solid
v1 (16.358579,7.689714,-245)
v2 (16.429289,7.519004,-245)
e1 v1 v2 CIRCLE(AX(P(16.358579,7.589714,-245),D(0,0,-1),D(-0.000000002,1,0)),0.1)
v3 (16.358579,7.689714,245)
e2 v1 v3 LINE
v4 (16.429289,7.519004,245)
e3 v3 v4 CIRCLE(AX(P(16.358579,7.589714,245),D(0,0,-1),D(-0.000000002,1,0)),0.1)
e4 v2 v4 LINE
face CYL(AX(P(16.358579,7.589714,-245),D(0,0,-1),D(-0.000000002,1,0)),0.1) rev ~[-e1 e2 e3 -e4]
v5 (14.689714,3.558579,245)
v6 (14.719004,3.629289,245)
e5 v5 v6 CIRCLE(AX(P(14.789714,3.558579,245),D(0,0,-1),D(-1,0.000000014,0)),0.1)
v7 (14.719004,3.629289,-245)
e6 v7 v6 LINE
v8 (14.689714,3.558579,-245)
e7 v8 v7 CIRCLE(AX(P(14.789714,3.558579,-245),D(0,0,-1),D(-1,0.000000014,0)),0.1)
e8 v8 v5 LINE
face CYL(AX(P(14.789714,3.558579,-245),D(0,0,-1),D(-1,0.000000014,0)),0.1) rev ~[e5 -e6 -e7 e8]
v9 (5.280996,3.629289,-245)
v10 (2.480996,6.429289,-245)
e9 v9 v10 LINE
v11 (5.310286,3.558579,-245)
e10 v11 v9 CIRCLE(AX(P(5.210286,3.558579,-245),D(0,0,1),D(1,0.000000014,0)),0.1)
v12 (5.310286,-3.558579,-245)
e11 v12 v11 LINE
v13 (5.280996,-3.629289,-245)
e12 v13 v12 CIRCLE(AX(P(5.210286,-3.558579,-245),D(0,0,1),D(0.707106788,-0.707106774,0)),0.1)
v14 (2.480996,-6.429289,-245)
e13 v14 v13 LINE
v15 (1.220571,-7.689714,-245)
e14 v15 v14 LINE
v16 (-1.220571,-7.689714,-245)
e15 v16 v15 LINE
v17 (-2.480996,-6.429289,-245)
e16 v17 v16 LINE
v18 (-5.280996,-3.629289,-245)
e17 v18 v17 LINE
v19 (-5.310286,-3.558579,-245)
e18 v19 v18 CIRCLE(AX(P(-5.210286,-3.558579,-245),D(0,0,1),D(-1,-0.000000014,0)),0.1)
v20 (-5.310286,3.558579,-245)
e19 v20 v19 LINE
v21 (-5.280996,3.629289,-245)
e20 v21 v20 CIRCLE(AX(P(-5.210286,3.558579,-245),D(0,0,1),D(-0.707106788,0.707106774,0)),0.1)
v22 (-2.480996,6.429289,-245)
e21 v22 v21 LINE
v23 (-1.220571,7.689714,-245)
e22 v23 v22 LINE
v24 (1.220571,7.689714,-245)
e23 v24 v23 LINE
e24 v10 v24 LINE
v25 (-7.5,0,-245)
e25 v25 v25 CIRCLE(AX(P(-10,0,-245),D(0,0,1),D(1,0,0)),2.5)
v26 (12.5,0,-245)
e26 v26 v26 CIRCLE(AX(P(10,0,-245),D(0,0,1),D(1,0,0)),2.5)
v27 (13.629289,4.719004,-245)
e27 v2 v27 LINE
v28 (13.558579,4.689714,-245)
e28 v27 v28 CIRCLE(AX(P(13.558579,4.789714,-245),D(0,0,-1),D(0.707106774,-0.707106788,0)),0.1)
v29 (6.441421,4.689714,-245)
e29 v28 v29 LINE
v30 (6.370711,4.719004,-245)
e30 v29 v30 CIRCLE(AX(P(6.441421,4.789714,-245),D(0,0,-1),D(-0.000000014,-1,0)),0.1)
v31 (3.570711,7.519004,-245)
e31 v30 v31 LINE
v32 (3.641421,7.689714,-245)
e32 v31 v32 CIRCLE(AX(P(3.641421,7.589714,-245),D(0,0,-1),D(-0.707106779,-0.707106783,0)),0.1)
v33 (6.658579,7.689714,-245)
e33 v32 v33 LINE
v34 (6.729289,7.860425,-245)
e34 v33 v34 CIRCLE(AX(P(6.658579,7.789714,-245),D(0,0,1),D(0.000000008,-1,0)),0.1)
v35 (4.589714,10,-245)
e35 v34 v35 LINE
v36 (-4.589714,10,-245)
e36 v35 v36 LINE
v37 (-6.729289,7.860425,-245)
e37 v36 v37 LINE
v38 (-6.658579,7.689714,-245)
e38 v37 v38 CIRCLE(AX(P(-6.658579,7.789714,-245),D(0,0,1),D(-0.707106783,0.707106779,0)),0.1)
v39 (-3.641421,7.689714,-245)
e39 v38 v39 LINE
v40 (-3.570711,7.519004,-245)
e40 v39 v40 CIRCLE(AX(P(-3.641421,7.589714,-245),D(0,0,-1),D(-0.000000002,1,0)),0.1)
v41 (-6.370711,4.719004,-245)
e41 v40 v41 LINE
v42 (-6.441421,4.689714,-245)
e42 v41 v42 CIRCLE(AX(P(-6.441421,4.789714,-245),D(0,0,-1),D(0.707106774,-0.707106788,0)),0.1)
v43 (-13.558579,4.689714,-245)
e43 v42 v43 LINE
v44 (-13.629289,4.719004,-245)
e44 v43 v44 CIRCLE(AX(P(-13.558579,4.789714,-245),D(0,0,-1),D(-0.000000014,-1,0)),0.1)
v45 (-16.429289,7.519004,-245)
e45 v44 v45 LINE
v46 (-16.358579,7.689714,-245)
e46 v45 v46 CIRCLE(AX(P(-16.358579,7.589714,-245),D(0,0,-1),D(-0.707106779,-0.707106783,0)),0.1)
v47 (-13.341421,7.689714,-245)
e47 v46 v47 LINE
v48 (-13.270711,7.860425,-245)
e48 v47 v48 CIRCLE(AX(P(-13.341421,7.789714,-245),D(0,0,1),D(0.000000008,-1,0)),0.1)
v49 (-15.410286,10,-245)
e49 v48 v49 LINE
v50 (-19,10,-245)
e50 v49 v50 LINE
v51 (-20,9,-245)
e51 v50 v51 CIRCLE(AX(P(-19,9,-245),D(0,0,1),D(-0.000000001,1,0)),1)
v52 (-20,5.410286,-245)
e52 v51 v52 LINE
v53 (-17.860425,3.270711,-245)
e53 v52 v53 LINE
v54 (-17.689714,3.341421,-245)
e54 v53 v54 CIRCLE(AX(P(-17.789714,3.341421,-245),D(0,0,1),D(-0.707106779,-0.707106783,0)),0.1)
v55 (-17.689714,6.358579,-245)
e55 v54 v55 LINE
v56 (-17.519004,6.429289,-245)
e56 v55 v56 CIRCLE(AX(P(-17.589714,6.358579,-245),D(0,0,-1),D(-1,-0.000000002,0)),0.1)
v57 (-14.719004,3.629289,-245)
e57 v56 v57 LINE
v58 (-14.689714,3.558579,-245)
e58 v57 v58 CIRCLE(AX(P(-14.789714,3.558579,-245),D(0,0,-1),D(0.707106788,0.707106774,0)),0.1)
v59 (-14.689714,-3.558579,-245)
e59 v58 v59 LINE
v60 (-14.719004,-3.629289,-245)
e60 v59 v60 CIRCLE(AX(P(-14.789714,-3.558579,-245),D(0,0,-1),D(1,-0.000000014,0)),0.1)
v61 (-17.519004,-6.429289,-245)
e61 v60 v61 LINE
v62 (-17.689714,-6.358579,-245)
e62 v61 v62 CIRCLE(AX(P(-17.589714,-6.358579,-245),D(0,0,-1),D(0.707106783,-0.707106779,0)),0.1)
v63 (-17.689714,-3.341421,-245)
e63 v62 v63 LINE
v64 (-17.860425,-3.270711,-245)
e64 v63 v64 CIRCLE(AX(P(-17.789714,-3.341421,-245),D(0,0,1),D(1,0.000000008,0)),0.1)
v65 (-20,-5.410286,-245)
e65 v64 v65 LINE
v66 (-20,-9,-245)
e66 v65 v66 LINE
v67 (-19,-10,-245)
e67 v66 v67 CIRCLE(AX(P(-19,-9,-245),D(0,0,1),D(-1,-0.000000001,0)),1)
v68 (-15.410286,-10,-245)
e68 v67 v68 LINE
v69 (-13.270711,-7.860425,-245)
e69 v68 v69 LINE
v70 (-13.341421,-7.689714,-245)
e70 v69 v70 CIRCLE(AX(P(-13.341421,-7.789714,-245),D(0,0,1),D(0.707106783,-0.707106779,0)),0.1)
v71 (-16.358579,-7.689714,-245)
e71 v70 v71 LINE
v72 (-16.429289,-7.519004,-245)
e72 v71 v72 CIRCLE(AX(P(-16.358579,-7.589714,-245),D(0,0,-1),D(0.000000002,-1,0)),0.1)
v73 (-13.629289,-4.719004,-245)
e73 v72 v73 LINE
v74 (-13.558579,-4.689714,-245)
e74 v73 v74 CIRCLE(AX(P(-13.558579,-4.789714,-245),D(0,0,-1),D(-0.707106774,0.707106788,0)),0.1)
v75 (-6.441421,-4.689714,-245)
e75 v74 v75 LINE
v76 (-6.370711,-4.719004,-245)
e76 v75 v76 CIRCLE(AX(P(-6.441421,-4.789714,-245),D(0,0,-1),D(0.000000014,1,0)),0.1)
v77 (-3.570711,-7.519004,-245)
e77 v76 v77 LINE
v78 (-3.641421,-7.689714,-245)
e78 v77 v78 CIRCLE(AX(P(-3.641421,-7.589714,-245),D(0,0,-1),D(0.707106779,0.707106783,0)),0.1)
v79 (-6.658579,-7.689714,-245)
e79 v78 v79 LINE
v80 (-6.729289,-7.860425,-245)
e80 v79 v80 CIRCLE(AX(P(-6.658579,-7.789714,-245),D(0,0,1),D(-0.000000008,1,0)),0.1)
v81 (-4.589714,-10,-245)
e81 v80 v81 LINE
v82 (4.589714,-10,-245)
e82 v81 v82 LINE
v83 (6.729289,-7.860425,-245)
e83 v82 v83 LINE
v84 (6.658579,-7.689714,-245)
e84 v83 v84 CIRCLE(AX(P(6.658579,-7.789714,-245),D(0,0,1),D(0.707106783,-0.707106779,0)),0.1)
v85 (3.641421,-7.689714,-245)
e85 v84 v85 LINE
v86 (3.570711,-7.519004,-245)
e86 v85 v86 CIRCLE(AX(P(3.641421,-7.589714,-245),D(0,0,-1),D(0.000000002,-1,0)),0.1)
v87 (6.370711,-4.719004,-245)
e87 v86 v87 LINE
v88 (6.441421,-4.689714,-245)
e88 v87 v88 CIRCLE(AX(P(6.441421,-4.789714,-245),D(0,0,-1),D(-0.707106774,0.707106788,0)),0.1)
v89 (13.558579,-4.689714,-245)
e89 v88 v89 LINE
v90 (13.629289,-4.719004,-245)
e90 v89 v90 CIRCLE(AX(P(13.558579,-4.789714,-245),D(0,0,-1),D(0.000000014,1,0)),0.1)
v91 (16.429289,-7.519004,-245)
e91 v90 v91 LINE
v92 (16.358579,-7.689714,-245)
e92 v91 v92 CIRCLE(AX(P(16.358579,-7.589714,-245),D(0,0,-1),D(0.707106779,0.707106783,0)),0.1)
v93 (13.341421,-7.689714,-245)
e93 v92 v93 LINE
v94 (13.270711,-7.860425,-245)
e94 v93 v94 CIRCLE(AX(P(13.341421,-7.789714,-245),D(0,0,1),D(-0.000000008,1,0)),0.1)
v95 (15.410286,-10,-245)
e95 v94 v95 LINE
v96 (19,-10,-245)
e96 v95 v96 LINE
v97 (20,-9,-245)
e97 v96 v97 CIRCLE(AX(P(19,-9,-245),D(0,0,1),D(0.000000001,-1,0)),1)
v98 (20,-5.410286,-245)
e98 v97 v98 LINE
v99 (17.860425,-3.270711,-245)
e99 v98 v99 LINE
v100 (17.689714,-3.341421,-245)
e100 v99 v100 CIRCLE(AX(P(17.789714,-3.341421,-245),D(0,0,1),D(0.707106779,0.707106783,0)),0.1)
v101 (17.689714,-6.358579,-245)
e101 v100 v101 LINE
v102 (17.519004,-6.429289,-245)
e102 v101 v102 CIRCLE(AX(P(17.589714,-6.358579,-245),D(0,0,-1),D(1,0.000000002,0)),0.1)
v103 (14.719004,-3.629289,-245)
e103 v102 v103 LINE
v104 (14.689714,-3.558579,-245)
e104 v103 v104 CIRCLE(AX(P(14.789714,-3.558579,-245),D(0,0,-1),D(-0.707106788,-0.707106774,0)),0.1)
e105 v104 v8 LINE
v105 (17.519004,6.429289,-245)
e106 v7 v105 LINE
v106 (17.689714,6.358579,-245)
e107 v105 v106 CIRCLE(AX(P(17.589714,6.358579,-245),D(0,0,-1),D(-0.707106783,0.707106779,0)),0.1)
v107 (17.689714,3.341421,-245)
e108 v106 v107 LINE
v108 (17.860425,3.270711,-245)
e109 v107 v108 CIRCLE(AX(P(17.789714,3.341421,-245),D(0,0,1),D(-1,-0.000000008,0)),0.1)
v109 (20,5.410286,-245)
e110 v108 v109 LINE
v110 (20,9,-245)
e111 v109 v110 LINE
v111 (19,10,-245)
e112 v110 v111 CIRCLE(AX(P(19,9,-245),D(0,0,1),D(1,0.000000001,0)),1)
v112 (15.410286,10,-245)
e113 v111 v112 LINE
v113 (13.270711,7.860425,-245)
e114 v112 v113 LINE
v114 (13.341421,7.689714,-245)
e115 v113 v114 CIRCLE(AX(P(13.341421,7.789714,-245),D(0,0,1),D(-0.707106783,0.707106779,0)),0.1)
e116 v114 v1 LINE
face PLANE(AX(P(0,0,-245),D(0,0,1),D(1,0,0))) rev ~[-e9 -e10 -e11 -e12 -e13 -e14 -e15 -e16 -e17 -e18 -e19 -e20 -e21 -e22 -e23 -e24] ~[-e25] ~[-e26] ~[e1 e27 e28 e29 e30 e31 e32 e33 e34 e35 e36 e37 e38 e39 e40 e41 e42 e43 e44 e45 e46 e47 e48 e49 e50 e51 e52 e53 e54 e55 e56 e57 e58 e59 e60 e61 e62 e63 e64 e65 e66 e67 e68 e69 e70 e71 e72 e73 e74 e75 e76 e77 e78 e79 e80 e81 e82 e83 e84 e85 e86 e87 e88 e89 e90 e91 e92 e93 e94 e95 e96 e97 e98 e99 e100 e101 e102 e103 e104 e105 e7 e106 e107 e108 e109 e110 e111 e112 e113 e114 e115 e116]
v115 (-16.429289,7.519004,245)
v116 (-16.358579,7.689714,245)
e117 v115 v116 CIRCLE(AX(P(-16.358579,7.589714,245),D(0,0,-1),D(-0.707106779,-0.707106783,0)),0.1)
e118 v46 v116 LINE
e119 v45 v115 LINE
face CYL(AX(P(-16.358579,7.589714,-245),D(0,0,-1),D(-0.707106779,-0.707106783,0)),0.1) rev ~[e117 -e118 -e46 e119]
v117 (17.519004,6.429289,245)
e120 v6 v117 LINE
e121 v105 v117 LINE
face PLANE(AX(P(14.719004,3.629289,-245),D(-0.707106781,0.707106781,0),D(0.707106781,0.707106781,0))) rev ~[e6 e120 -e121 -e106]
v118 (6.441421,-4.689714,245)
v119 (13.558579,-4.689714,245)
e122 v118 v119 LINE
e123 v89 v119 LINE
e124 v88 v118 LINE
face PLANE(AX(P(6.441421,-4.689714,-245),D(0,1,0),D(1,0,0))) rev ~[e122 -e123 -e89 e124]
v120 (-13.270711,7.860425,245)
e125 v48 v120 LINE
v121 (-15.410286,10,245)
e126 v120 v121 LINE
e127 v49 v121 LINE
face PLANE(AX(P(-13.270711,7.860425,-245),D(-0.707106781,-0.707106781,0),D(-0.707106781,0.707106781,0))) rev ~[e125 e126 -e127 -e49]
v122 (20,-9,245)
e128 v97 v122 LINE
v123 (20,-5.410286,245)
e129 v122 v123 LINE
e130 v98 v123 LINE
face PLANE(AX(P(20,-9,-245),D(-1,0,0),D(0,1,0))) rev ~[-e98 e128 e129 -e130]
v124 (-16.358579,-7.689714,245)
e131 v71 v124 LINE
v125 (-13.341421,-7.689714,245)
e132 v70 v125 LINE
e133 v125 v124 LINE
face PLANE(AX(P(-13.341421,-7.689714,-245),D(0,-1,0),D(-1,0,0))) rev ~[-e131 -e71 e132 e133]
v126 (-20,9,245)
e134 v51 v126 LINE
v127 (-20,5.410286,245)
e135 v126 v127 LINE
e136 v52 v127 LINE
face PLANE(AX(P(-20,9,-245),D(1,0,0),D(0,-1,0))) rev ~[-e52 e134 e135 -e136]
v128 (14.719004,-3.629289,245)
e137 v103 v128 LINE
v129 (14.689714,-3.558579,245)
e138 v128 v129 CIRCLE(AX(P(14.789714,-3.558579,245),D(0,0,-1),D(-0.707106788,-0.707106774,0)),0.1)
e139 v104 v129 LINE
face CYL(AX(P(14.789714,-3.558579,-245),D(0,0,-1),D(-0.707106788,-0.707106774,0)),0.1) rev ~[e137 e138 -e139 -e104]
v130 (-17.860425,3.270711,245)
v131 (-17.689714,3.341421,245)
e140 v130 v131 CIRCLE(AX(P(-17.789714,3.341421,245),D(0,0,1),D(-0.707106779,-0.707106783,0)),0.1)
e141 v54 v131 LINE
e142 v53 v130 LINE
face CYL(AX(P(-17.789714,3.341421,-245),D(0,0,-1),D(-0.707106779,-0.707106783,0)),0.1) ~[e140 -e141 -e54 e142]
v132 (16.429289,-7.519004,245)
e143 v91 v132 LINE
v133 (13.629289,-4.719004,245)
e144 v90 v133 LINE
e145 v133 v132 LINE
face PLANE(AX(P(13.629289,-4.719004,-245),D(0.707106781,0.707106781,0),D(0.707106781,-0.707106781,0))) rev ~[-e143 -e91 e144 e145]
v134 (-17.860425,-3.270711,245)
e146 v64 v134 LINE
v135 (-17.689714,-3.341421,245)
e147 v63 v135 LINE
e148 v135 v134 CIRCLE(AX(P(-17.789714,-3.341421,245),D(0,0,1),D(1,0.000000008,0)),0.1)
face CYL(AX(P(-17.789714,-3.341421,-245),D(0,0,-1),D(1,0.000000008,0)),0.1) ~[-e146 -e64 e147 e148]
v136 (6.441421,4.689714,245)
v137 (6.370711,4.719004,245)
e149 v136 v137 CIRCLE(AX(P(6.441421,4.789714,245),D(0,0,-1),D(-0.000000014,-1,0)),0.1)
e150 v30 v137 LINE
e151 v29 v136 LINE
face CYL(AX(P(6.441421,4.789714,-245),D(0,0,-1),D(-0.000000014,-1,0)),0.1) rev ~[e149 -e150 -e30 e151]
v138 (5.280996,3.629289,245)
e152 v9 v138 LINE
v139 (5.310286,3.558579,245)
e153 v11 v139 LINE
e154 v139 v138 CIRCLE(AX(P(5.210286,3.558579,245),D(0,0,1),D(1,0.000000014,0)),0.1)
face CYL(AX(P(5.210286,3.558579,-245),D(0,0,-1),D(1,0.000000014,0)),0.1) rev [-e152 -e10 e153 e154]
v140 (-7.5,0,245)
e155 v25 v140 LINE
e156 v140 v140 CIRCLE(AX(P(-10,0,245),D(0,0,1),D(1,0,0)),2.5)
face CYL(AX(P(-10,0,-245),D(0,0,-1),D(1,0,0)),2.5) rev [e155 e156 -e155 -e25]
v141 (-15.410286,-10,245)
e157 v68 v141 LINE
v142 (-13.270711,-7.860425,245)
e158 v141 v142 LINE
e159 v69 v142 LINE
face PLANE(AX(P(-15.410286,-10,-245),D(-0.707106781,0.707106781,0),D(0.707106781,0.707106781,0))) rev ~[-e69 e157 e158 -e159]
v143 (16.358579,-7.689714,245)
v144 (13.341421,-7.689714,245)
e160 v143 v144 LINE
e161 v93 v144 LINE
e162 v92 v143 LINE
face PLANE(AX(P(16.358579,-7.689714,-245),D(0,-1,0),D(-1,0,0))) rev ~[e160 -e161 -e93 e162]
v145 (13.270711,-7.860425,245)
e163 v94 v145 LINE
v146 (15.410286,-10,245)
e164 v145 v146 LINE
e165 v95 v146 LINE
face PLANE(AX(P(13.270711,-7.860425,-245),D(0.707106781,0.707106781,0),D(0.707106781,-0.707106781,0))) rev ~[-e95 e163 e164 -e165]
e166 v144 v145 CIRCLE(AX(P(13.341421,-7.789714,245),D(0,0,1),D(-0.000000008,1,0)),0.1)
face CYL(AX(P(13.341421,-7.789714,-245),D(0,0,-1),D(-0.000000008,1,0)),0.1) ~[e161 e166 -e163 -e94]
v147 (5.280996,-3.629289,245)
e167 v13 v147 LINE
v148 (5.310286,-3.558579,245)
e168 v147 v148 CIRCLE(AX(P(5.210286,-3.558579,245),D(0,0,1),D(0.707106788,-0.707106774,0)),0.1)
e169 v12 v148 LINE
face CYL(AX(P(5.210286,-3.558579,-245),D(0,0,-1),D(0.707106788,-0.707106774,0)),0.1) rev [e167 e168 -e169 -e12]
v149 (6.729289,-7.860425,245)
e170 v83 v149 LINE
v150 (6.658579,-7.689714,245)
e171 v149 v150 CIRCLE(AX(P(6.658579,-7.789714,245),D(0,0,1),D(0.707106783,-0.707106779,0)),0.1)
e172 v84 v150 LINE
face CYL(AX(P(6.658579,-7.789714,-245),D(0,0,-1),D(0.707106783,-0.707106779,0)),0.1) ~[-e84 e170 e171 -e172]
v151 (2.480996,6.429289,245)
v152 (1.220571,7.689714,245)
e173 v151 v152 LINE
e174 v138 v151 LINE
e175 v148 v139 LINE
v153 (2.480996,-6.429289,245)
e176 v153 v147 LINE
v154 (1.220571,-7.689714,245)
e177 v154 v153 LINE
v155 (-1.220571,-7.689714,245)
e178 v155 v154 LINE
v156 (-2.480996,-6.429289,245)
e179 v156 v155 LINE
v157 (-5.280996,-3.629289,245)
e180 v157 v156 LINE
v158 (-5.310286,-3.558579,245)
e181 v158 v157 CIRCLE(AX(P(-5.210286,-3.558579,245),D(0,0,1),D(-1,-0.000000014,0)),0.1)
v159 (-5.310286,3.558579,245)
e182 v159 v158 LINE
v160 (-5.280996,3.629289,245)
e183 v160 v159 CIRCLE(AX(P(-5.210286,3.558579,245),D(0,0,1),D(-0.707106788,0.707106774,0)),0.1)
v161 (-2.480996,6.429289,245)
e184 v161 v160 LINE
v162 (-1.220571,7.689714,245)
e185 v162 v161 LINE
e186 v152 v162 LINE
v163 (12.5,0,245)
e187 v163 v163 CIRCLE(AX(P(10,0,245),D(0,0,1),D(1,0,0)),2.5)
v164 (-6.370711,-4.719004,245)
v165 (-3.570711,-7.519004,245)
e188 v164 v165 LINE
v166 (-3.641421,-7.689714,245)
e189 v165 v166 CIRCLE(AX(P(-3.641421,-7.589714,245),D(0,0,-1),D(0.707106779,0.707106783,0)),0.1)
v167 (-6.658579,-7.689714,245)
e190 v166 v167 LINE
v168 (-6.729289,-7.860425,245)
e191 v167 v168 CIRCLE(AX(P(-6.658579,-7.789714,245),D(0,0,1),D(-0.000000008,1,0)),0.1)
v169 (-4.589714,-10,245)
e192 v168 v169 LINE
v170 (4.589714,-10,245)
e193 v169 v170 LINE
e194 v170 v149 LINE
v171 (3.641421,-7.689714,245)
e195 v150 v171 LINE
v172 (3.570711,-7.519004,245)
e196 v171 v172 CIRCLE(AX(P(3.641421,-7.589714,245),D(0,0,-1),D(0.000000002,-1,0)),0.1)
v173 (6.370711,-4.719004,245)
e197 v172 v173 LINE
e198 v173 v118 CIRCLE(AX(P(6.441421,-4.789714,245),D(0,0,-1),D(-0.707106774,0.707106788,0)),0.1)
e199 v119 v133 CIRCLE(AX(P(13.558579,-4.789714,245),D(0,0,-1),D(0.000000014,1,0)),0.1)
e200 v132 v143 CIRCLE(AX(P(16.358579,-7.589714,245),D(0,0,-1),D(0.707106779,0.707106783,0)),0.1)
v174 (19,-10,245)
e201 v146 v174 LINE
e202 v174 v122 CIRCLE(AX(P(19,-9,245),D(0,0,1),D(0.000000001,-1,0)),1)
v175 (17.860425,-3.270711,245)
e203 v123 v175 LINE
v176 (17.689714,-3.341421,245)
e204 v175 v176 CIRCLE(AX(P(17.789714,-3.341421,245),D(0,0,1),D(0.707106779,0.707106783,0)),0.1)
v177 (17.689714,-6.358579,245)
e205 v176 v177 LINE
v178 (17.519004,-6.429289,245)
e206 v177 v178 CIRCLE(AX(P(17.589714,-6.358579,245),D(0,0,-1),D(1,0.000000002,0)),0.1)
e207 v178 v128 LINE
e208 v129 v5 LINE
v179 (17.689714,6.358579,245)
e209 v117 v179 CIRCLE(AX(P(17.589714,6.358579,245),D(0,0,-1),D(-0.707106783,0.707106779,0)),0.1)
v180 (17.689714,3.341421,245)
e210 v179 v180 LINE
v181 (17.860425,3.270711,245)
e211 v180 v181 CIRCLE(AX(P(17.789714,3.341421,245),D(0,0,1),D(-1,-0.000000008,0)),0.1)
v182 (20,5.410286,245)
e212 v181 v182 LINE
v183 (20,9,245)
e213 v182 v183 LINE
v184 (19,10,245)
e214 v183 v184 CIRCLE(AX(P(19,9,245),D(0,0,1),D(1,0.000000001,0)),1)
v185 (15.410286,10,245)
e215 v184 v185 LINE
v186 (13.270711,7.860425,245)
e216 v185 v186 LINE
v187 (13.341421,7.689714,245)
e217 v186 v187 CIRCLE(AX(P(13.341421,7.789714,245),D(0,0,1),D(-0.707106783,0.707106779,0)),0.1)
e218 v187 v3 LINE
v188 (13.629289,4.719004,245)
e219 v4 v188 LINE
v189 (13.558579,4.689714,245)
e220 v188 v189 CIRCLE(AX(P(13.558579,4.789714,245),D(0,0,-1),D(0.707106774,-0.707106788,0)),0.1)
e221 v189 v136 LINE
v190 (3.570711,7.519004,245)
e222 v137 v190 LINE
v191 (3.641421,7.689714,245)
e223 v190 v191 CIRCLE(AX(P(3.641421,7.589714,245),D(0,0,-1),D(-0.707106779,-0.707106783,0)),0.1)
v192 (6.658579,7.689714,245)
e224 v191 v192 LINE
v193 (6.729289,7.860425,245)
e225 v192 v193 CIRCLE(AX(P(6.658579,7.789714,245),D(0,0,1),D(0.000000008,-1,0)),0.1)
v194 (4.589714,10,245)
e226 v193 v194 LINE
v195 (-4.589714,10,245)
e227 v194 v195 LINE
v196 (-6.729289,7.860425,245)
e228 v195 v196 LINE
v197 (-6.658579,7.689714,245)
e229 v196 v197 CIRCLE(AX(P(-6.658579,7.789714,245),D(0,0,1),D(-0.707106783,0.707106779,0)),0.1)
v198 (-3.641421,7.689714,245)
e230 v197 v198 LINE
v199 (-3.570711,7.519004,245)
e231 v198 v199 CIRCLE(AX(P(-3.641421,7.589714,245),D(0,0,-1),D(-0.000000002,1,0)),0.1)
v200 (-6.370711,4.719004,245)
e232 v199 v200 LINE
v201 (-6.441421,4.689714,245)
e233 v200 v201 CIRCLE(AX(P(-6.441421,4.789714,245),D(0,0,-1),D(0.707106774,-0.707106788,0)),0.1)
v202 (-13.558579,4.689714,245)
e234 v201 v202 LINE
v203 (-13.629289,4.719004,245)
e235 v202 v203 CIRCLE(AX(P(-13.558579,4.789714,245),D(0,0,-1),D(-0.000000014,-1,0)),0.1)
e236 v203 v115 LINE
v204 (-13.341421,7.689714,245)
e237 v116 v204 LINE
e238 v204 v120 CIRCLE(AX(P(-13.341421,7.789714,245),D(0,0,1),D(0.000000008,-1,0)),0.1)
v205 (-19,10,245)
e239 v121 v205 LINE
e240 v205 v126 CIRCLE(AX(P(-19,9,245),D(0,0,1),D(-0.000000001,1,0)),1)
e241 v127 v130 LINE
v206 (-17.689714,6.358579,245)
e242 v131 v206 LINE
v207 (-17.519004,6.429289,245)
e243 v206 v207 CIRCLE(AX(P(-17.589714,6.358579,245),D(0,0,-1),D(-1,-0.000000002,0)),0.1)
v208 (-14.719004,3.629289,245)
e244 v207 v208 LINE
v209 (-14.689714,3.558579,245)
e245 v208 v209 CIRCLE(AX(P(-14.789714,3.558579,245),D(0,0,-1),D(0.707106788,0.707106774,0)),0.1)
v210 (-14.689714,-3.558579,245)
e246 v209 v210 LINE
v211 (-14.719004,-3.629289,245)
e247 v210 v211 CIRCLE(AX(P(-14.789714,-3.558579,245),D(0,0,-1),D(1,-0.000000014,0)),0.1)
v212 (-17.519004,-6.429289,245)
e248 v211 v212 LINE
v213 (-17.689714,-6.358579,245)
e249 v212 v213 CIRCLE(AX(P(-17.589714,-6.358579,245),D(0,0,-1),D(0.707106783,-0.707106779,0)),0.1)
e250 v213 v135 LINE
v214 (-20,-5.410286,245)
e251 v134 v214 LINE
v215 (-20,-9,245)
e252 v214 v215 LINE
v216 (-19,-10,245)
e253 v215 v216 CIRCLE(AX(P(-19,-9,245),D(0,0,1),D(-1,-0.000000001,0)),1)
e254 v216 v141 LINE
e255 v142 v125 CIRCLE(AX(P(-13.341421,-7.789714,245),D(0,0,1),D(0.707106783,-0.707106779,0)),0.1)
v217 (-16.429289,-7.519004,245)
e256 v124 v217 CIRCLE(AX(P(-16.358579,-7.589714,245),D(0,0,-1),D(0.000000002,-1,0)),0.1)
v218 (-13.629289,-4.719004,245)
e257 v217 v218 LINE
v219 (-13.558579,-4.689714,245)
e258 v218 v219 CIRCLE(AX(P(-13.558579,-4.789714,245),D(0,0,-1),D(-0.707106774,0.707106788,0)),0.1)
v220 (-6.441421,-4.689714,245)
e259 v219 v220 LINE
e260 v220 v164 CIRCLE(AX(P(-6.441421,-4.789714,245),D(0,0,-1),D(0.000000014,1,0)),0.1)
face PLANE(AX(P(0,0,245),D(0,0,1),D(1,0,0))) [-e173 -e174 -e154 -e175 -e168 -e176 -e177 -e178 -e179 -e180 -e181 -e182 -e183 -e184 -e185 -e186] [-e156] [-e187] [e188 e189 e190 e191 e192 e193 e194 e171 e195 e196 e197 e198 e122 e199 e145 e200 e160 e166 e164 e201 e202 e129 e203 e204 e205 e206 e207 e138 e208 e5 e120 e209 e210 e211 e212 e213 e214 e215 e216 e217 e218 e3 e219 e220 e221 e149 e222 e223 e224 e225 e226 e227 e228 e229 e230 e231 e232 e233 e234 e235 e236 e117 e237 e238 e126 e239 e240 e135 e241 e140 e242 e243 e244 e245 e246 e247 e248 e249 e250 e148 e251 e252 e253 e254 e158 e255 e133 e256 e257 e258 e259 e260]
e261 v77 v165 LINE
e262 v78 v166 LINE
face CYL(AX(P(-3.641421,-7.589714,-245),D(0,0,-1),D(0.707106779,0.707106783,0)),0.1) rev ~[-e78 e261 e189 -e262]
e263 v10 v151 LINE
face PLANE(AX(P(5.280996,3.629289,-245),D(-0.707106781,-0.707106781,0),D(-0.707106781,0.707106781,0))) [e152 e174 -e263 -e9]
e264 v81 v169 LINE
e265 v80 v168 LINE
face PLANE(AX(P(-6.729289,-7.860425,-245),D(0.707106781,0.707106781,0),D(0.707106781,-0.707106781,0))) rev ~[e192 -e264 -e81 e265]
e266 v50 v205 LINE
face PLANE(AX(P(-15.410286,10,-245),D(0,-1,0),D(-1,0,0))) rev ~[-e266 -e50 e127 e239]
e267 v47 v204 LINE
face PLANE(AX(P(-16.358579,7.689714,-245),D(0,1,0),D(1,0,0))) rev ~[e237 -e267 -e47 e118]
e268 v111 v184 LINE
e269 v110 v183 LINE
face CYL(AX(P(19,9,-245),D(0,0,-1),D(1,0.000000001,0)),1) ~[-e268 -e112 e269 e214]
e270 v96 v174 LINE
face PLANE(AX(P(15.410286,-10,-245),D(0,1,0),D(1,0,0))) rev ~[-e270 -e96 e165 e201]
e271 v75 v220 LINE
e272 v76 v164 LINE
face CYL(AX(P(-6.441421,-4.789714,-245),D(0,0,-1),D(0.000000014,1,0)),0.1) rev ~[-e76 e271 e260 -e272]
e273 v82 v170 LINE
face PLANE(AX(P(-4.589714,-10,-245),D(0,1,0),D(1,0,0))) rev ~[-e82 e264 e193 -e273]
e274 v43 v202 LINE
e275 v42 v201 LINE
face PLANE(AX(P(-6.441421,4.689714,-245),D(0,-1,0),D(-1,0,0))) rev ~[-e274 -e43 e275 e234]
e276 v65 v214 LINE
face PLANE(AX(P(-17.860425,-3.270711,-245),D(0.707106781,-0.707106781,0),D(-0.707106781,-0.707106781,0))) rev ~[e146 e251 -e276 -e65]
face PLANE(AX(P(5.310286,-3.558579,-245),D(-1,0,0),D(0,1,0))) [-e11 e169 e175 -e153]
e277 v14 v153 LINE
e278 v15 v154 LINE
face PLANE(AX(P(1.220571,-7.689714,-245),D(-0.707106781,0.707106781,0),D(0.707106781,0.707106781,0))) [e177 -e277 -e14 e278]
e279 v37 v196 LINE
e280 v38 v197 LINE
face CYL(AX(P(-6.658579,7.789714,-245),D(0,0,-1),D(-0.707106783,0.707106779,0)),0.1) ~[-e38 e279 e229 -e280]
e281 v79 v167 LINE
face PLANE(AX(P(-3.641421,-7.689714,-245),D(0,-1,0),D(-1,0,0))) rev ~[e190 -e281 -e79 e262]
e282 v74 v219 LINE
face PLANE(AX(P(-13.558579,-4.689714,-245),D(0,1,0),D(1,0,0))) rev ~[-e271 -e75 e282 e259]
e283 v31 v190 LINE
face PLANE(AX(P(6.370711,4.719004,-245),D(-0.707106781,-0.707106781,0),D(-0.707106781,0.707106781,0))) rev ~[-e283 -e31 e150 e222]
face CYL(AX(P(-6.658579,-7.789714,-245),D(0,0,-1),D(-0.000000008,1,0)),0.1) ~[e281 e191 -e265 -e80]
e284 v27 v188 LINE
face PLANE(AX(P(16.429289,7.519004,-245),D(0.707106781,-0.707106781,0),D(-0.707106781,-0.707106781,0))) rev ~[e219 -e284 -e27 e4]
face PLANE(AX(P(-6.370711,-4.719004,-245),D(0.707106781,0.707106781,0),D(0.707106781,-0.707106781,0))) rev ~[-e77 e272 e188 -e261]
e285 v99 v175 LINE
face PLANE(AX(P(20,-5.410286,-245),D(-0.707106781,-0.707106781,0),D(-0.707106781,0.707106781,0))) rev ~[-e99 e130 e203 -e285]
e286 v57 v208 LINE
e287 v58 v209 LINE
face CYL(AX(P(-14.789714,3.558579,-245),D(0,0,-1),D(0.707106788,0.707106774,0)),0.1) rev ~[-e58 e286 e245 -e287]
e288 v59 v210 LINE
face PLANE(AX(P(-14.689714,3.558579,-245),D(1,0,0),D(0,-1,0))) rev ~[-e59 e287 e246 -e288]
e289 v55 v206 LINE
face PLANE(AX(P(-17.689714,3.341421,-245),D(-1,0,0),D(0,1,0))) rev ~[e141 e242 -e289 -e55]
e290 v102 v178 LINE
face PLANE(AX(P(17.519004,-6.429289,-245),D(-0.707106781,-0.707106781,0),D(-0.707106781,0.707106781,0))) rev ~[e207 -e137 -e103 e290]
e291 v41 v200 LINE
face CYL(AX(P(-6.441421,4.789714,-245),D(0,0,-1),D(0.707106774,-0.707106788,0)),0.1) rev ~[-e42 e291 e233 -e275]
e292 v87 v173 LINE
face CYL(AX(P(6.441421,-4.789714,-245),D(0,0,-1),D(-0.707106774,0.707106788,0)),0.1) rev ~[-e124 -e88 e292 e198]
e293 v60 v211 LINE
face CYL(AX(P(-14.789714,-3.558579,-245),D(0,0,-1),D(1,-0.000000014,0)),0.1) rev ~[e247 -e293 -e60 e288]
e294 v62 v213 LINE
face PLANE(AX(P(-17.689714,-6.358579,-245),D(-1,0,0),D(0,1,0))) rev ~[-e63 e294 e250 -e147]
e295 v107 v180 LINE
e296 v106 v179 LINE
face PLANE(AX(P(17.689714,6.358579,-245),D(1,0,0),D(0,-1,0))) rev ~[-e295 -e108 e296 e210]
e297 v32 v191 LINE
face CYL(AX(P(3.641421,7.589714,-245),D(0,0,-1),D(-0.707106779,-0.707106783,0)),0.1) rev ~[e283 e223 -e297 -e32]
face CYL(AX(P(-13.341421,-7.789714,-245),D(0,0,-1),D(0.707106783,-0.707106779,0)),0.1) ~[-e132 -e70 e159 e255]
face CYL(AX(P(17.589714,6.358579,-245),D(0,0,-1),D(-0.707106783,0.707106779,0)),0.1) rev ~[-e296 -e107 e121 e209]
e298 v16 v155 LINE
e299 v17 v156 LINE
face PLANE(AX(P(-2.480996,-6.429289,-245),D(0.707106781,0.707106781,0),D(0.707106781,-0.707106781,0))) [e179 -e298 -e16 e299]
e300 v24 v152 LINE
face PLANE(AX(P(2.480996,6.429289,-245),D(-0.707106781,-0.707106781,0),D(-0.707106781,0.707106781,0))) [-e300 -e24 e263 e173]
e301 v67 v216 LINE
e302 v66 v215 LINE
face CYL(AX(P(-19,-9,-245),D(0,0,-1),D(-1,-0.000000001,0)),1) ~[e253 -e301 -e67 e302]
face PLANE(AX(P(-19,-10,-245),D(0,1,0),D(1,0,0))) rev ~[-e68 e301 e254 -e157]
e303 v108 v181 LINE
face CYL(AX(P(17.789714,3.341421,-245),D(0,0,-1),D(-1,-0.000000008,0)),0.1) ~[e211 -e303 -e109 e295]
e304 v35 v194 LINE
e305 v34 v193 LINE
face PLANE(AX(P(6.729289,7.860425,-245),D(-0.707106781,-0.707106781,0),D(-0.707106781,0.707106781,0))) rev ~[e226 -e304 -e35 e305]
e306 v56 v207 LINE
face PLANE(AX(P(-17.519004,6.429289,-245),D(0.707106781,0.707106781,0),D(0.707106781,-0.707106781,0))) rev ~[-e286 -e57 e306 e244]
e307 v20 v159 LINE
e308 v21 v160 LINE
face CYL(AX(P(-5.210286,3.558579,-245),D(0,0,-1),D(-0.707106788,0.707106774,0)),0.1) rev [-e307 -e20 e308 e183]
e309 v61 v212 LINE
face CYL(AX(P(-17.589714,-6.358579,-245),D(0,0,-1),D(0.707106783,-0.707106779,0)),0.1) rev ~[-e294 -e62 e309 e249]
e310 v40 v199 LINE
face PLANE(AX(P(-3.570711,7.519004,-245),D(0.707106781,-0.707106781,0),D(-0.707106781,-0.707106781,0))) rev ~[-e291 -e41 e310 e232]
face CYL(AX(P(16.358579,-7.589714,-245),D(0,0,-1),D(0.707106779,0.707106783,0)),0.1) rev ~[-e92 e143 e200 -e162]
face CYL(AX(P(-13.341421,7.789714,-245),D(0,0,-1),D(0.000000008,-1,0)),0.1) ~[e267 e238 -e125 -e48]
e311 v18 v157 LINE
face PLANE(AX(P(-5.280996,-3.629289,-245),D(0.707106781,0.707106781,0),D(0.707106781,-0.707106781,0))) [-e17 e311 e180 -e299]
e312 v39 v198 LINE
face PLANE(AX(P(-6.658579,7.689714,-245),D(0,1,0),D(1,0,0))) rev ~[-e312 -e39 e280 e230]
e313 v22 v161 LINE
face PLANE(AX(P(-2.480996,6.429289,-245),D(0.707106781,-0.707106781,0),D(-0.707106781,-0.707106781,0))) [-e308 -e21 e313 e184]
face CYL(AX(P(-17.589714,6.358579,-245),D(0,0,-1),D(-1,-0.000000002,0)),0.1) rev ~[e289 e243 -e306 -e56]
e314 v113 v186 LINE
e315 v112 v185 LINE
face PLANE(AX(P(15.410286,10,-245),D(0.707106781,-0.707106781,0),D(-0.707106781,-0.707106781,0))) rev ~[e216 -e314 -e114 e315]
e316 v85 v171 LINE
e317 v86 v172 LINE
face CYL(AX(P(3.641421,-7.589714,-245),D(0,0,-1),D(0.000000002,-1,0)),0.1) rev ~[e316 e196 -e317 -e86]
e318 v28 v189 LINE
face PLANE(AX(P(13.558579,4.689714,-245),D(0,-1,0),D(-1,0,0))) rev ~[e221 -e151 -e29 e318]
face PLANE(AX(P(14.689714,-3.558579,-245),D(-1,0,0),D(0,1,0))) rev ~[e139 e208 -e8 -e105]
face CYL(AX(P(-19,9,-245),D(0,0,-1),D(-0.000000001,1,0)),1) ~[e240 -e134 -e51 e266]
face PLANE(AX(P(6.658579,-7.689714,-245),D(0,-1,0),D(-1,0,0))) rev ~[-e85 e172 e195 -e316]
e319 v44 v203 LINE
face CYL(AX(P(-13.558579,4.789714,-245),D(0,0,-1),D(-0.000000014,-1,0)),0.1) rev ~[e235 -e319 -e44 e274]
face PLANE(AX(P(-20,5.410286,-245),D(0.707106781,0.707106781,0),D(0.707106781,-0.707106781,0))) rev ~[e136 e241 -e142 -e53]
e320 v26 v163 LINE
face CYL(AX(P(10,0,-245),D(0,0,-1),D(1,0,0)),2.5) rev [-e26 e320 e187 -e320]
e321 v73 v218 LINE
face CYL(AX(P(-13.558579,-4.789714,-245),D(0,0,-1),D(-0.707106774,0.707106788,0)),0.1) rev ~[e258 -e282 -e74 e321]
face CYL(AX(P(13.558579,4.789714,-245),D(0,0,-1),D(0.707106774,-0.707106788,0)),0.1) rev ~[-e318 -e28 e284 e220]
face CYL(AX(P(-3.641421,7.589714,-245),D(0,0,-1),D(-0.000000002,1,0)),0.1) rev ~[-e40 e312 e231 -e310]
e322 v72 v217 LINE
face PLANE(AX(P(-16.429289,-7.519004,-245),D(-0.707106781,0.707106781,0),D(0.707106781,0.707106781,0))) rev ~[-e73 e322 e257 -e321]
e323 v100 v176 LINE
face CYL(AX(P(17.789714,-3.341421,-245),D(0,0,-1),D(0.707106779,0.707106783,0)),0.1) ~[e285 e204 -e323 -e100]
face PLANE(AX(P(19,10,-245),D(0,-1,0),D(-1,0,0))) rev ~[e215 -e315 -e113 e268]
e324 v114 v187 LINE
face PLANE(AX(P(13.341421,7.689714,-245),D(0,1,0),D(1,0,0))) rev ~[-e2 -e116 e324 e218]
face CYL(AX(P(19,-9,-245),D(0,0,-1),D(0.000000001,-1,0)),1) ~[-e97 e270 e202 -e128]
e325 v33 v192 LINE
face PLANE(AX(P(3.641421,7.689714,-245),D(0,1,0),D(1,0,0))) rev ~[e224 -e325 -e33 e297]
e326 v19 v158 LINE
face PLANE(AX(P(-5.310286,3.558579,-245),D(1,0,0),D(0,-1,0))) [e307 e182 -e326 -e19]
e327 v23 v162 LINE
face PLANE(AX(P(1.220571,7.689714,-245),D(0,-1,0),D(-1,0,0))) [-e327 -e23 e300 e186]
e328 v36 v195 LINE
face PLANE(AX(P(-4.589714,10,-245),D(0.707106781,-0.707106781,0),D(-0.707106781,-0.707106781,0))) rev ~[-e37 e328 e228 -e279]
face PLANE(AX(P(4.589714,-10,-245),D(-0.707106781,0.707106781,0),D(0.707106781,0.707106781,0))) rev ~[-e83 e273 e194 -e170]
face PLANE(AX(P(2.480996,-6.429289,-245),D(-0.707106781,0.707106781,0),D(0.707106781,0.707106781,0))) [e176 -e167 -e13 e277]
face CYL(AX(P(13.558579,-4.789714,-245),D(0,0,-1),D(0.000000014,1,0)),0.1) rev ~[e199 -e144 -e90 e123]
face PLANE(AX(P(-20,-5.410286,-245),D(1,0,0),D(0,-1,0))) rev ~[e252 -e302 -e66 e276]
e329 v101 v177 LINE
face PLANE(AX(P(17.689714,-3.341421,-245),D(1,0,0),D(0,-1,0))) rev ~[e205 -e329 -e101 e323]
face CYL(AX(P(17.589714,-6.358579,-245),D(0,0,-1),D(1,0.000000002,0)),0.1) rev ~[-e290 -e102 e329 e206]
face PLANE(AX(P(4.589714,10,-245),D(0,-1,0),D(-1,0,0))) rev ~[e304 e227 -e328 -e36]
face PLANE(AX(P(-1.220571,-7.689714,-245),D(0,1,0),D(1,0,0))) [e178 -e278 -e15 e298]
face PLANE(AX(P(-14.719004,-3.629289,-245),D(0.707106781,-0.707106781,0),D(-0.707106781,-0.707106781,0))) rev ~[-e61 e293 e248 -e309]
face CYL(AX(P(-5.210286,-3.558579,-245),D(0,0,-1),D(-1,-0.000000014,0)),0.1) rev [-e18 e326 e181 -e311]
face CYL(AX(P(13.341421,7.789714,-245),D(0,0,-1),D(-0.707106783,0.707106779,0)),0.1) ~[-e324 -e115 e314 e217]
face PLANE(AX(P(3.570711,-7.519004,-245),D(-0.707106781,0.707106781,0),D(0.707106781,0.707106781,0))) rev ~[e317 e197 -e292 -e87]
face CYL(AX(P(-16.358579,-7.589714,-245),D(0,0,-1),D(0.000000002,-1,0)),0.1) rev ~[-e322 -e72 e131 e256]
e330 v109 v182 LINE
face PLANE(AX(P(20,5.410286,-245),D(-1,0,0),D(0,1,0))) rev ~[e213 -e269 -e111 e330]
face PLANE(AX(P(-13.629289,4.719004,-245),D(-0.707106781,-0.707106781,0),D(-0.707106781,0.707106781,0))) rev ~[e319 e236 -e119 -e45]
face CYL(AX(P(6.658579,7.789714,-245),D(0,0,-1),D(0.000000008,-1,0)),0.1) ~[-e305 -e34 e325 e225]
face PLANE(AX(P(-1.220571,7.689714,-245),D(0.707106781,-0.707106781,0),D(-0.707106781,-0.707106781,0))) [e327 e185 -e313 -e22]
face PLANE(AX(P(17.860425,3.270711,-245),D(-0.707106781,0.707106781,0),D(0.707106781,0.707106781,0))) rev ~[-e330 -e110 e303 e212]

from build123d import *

# Parameters (mm, degrees)
CROQUIS4_R                 = 2.5
MIEMBRO_ESTRUCTURAL1_DEPTH = 490


with BuildPart() as part:
    # Croquis4 → Miembro estructural1 (new body)
    with BuildSketch(Plane.XY.offset(-245)):
        with BuildLine():
            Line((-19, -10), (-15.410285706, -10))
            Line((-15.410285706, -10), (-13.270710678, -7.860424973))
            ThreePointArc((-13.270710678, -7.860424973), (-13.249033403, -7.751445951), (-13.341421356, -7.689714294))
            Line((-13.341421356, -7.689714294), (-16.358578644, -7.689714294))
            ThreePointArc((-16.358578644, -7.689714294), (-16.450966597, -7.627982638), (-16.429289322, -7.519003616))
            Line((-16.429289322, -7.519003616), (-13.629289322, -4.719003616))
            ThreePointArc((-13.629289322, -4.719003616), (-13.596846987, -4.697326341), (-13.558578644, -4.689714294))
            Line((-13.558578644, -4.689714294), (-6.441421356, -4.689714294))
            ThreePointArc((-6.441421356, -4.689714294), (-6.403153013, -4.697326341), (-6.370710678, -4.719003616))
            Line((-6.370710678, -4.719003616), (-3.570710678, -7.519003616))
            ThreePointArc((-3.570710678, -7.519003616), (-3.549033403, -7.627982638), (-3.641421356, -7.689714294))
            Line((-3.641421356, -7.689714294), (-6.658578644, -7.689714294))
            ThreePointArc((-6.658578644, -7.689714294), (-6.750966597, -7.751445951), (-6.729289322, -7.860424973))
            Line((-6.729289322, -7.860424973), (-4.589714294, -10))
            Line((-4.589714294, -10), (4.589714294, -10))
            Line((4.589714294, -10), (6.729289322, -7.860424973))
            ThreePointArc((6.729289322, -7.860424973), (6.750966597, -7.751445951), (6.658578644, -7.689714294))
            Line((6.658578644, -7.689714294), (3.641421356, -7.689714294))
            ThreePointArc((3.641421356, -7.689714294), (3.549033403, -7.627982638), (3.570710678, -7.519003616))
            Line((3.570710678, -7.519003616), (6.370710678, -4.719003616))
            ThreePointArc((6.370710678, -4.719003616), (6.403153013, -4.697326341), (6.441421356, -4.689714294))
            Line((6.441421356, -4.689714294), (13.558578644, -4.689714294))
            ThreePointArc((13.558578644, -4.689714294), (13.596846987, -4.697326341), (13.629289322, -4.719003616))
            Line((13.629289322, -4.719003616), (16.429289322, -7.519003616))
            ThreePointArc((16.429289322, -7.519003616), (16.450966597, -7.627982638), (16.358578644, -7.689714294))
            Line((16.358578644, -7.689714294), (13.341421356, -7.689714294))
            ThreePointArc((13.341421356, -7.689714294), (13.249033403, -7.751445951), (13.270710678, -7.860424973))
            Line((13.270710678, -7.860424973), (15.410285706, -10))
            Line((15.410285706, -10), (19, -10))
            ThreePointArc((19, -10), (19.707106781, -9.707106781), (20, -9))
            Line((20, -9), (20, -5.410285706))
            Line((20, -5.410285706), (17.860424973, -3.270710678))
            ThreePointArc((17.860424973, -3.270710678), (17.751445951, -3.249033403), (17.689714294, -3.341421356))
            Line((17.689714294, -3.341421356), (17.689714294, -6.358578644))
            ThreePointArc((17.689714294, -6.358578644), (17.627982638, -6.450966597), (17.519003616, -6.429289322))
            Line((17.519003616, -6.429289322), (14.719003616, -3.629289322))
            ThreePointArc((14.719003616, -3.629289322), (14.697326341, -3.596846987), (14.689714294, -3.558578644))
            Line((14.689714294, -3.558578644), (14.689714294, 3.558578644))
            ThreePointArc((14.689714294, 3.558578644), (14.697326341, 3.596846987), (14.719003616, 3.629289322))
            Line((14.719003616, 3.629289322), (17.519003616, 6.429289322))
            ThreePointArc((17.519003616, 6.429289322), (17.627982638, 6.450966597), (17.689714294, 6.358578644))
            Line((17.689714294, 6.358578644), (17.689714294, 3.341421356))
            ThreePointArc((17.689714294, 3.341421356), (17.751445951, 3.249033403), (17.860424973, 3.270710678))
            Line((17.860424973, 3.270710678), (20, 5.410285706))
            Line((20, 5.410285706), (20, 9))
            ThreePointArc((20, 9), (19.707106781, 9.707106781), (19, 10))
            Line((19, 10), (15.410285706, 10))
            Line((15.410285706, 10), (13.270710678, 7.860424973))
            ThreePointArc((13.270710678, 7.860424973), (13.249033403, 7.751445951), (13.341421356, 7.689714294))
            Line((13.341421356, 7.689714294), (16.358578644, 7.689714294))
            ThreePointArc((16.358578644, 7.689714294), (16.450966597, 7.627982638), (16.429289322, 7.519003616))
            Line((16.429289322, 7.519003616), (13.629289322, 4.719003616))
            ThreePointArc((13.629289322, 4.719003616), (13.596846987, 4.697326341), (13.558578644, 4.689714294))
            Line((13.558578644, 4.689714294), (6.441421356, 4.689714294))
            ThreePointArc((6.441421356, 4.689714294), (6.403153013, 4.697326341), (6.370710678, 4.719003616))
            Line((6.370710678, 4.719003616), (3.570710678, 7.519003616))
            ThreePointArc((3.570710678, 7.519003616), (3.549033403, 7.627982638), (3.641421356, 7.689714294))
            Line((3.641421356, 7.689714294), (6.658578644, 7.689714294))
            ThreePointArc((6.658578644, 7.689714294), (6.750966597, 7.751445951), (6.729289322, 7.860424973))
            Line((6.729289322, 7.860424973), (4.589714294, 10))
            Line((4.589714294, 10), (-4.589714294, 10))
            Line((-4.589714294, 10), (-6.729289322, 7.860424973))
            ThreePointArc((-6.729289322, 7.860424973), (-6.750966597, 7.751445951), (-6.658578644, 7.689714294))
            Line((-6.658578644, 7.689714294), (-3.641421356, 7.689714294))
            ThreePointArc((-3.641421356, 7.689714294), (-3.549033403, 7.627982638), (-3.570710678, 7.519003616))
            Line((-3.570710678, 7.519003616), (-6.370710678, 4.719003616))
            ThreePointArc((-6.370710678, 4.719003616), (-6.403153013, 4.697326341), (-6.441421356, 4.689714294))
            Line((-6.441421356, 4.689714294), (-13.558578644, 4.689714294))
            ThreePointArc((-13.558578644, 4.689714294), (-13.596846987, 4.697326341), (-13.629289322, 4.719003616))
            Line((-13.629289322, 4.719003616), (-16.429289322, 7.519003616))
            ThreePointArc((-16.429289322, 7.519003616), (-16.450966597, 7.627982638), (-16.358578644, 7.689714294))
            Line((-16.358578644, 7.689714294), (-13.341421356, 7.689714294))
            ThreePointArc((-13.341421356, 7.689714294), (-13.249033403, 7.751445951), (-13.270710678, 7.860424973))
            Line((-13.270710678, 7.860424973), (-15.410285706, 10))
            Line((-15.410285706, 10), (-19, 10))
            ThreePointArc((-19, 10), (-19.707106781, 9.707106781), (-20, 9))
            Line((-20, 9), (-20, 5.410285706))
            Line((-20, 5.410285706), (-17.860424973, 3.270710678))
            ThreePointArc((-17.860424973, 3.270710678), (-17.751445951, 3.249033403), (-17.689714294, 3.341421356))
            Line((-17.689714294, 3.341421356), (-17.689714294, 6.358578644))
            ThreePointArc((-17.689714294, 6.358578644), (-17.627982638, 6.450966597), (-17.519003616, 6.429289322))
            Line((-17.519003616, 6.429289322), (-14.719003616, 3.629289322))
            ThreePointArc((-14.719003616, 3.629289322), (-14.697326341, 3.596846987), (-14.689714294, 3.558578644))
            Line((-14.689714294, 3.558578644), (-14.689714294, -3.558578644))
            ThreePointArc((-14.689714294, -3.558578644), (-14.697326341, -3.596846987), (-14.719003616, -3.629289322))
            Line((-14.719003616, -3.629289322), (-17.519003616, -6.429289322))
            ThreePointArc((-17.519003616, -6.429289322), (-17.627982638, -6.450966597), (-17.689714294, -6.358578644))
            Line((-17.689714294, -6.358578644), (-17.689714294, -3.341421356))
            ThreePointArc((-17.689714294, -3.341421356), (-17.751445951, -3.249033403), (-17.860424973, -3.270710678))
            Line((-17.860424973, -3.270710678), (-20, -5.410285706))
            Line((-20, -5.410285706), (-20, -9))
            ThreePointArc((-20, -9), (-19.707106781, -9.707106781), (-19, -10))
        make_face()
        with Locations((-10, 0)):
            Circle(CROQUIS4_R, mode=Mode.SUBTRACT)
        with Locations((10, 0)):
            Circle(CROQUIS4_R, mode=Mode.SUBTRACT)
        with BuildLine():
            Line((-2.480996384, 6.429289322), (-5.280996384, 3.629289322))
            ThreePointArc((-5.280996384, 3.629289322), (-5.302673659, 3.596846987), (-5.310285706, 3.558578644))
            Line((-5.310285706, 3.558578644), (-5.310285706, -3.558578644))
            ThreePointArc((-5.310285706, -3.558578644), (-5.302673659, -3.596846987), (-5.280996384, -3.629289322))
            Line((-5.280996384, -3.629289322), (-2.480996384, -6.429289322))
            Line((-2.480996384, -6.429289322), (-1.220571411, -7.689714294))
            Line((-1.220571411, -7.689714294), (1.220571411, -7.689714294))
            Line((1.220571411, -7.689714294), (2.480996384, -6.429289322))
            Line((2.480996384, -6.429289322), (5.280996384, -3.629289322))
            ThreePointArc((5.280996384, -3.629289322), (5.302673659, -3.596846987), (5.310285706, -3.558578644))
            Line((5.310285706, -3.558578644), (5.310285706, 3.558578644))
            ThreePointArc((5.310285706, 3.558578644), (5.302673659, 3.596846987), (5.280996384, 3.629289322))
            Line((5.280996384, 3.629289322), (2.480996384, 6.429289322))
            Line((2.480996384, 6.429289322), (1.220571411, 7.689714294))
            Line((1.220571411, 7.689714294), (-1.220571411, 7.689714294))
            Line((-1.220571411, 7.689714294), (-2.480996384, 6.429289322))
        make_face(mode=Mode.SUBTRACT)
    extrude(amount=MIEMBRO_ESTRUCTURAL1_DEPTH)


solid = part.part
